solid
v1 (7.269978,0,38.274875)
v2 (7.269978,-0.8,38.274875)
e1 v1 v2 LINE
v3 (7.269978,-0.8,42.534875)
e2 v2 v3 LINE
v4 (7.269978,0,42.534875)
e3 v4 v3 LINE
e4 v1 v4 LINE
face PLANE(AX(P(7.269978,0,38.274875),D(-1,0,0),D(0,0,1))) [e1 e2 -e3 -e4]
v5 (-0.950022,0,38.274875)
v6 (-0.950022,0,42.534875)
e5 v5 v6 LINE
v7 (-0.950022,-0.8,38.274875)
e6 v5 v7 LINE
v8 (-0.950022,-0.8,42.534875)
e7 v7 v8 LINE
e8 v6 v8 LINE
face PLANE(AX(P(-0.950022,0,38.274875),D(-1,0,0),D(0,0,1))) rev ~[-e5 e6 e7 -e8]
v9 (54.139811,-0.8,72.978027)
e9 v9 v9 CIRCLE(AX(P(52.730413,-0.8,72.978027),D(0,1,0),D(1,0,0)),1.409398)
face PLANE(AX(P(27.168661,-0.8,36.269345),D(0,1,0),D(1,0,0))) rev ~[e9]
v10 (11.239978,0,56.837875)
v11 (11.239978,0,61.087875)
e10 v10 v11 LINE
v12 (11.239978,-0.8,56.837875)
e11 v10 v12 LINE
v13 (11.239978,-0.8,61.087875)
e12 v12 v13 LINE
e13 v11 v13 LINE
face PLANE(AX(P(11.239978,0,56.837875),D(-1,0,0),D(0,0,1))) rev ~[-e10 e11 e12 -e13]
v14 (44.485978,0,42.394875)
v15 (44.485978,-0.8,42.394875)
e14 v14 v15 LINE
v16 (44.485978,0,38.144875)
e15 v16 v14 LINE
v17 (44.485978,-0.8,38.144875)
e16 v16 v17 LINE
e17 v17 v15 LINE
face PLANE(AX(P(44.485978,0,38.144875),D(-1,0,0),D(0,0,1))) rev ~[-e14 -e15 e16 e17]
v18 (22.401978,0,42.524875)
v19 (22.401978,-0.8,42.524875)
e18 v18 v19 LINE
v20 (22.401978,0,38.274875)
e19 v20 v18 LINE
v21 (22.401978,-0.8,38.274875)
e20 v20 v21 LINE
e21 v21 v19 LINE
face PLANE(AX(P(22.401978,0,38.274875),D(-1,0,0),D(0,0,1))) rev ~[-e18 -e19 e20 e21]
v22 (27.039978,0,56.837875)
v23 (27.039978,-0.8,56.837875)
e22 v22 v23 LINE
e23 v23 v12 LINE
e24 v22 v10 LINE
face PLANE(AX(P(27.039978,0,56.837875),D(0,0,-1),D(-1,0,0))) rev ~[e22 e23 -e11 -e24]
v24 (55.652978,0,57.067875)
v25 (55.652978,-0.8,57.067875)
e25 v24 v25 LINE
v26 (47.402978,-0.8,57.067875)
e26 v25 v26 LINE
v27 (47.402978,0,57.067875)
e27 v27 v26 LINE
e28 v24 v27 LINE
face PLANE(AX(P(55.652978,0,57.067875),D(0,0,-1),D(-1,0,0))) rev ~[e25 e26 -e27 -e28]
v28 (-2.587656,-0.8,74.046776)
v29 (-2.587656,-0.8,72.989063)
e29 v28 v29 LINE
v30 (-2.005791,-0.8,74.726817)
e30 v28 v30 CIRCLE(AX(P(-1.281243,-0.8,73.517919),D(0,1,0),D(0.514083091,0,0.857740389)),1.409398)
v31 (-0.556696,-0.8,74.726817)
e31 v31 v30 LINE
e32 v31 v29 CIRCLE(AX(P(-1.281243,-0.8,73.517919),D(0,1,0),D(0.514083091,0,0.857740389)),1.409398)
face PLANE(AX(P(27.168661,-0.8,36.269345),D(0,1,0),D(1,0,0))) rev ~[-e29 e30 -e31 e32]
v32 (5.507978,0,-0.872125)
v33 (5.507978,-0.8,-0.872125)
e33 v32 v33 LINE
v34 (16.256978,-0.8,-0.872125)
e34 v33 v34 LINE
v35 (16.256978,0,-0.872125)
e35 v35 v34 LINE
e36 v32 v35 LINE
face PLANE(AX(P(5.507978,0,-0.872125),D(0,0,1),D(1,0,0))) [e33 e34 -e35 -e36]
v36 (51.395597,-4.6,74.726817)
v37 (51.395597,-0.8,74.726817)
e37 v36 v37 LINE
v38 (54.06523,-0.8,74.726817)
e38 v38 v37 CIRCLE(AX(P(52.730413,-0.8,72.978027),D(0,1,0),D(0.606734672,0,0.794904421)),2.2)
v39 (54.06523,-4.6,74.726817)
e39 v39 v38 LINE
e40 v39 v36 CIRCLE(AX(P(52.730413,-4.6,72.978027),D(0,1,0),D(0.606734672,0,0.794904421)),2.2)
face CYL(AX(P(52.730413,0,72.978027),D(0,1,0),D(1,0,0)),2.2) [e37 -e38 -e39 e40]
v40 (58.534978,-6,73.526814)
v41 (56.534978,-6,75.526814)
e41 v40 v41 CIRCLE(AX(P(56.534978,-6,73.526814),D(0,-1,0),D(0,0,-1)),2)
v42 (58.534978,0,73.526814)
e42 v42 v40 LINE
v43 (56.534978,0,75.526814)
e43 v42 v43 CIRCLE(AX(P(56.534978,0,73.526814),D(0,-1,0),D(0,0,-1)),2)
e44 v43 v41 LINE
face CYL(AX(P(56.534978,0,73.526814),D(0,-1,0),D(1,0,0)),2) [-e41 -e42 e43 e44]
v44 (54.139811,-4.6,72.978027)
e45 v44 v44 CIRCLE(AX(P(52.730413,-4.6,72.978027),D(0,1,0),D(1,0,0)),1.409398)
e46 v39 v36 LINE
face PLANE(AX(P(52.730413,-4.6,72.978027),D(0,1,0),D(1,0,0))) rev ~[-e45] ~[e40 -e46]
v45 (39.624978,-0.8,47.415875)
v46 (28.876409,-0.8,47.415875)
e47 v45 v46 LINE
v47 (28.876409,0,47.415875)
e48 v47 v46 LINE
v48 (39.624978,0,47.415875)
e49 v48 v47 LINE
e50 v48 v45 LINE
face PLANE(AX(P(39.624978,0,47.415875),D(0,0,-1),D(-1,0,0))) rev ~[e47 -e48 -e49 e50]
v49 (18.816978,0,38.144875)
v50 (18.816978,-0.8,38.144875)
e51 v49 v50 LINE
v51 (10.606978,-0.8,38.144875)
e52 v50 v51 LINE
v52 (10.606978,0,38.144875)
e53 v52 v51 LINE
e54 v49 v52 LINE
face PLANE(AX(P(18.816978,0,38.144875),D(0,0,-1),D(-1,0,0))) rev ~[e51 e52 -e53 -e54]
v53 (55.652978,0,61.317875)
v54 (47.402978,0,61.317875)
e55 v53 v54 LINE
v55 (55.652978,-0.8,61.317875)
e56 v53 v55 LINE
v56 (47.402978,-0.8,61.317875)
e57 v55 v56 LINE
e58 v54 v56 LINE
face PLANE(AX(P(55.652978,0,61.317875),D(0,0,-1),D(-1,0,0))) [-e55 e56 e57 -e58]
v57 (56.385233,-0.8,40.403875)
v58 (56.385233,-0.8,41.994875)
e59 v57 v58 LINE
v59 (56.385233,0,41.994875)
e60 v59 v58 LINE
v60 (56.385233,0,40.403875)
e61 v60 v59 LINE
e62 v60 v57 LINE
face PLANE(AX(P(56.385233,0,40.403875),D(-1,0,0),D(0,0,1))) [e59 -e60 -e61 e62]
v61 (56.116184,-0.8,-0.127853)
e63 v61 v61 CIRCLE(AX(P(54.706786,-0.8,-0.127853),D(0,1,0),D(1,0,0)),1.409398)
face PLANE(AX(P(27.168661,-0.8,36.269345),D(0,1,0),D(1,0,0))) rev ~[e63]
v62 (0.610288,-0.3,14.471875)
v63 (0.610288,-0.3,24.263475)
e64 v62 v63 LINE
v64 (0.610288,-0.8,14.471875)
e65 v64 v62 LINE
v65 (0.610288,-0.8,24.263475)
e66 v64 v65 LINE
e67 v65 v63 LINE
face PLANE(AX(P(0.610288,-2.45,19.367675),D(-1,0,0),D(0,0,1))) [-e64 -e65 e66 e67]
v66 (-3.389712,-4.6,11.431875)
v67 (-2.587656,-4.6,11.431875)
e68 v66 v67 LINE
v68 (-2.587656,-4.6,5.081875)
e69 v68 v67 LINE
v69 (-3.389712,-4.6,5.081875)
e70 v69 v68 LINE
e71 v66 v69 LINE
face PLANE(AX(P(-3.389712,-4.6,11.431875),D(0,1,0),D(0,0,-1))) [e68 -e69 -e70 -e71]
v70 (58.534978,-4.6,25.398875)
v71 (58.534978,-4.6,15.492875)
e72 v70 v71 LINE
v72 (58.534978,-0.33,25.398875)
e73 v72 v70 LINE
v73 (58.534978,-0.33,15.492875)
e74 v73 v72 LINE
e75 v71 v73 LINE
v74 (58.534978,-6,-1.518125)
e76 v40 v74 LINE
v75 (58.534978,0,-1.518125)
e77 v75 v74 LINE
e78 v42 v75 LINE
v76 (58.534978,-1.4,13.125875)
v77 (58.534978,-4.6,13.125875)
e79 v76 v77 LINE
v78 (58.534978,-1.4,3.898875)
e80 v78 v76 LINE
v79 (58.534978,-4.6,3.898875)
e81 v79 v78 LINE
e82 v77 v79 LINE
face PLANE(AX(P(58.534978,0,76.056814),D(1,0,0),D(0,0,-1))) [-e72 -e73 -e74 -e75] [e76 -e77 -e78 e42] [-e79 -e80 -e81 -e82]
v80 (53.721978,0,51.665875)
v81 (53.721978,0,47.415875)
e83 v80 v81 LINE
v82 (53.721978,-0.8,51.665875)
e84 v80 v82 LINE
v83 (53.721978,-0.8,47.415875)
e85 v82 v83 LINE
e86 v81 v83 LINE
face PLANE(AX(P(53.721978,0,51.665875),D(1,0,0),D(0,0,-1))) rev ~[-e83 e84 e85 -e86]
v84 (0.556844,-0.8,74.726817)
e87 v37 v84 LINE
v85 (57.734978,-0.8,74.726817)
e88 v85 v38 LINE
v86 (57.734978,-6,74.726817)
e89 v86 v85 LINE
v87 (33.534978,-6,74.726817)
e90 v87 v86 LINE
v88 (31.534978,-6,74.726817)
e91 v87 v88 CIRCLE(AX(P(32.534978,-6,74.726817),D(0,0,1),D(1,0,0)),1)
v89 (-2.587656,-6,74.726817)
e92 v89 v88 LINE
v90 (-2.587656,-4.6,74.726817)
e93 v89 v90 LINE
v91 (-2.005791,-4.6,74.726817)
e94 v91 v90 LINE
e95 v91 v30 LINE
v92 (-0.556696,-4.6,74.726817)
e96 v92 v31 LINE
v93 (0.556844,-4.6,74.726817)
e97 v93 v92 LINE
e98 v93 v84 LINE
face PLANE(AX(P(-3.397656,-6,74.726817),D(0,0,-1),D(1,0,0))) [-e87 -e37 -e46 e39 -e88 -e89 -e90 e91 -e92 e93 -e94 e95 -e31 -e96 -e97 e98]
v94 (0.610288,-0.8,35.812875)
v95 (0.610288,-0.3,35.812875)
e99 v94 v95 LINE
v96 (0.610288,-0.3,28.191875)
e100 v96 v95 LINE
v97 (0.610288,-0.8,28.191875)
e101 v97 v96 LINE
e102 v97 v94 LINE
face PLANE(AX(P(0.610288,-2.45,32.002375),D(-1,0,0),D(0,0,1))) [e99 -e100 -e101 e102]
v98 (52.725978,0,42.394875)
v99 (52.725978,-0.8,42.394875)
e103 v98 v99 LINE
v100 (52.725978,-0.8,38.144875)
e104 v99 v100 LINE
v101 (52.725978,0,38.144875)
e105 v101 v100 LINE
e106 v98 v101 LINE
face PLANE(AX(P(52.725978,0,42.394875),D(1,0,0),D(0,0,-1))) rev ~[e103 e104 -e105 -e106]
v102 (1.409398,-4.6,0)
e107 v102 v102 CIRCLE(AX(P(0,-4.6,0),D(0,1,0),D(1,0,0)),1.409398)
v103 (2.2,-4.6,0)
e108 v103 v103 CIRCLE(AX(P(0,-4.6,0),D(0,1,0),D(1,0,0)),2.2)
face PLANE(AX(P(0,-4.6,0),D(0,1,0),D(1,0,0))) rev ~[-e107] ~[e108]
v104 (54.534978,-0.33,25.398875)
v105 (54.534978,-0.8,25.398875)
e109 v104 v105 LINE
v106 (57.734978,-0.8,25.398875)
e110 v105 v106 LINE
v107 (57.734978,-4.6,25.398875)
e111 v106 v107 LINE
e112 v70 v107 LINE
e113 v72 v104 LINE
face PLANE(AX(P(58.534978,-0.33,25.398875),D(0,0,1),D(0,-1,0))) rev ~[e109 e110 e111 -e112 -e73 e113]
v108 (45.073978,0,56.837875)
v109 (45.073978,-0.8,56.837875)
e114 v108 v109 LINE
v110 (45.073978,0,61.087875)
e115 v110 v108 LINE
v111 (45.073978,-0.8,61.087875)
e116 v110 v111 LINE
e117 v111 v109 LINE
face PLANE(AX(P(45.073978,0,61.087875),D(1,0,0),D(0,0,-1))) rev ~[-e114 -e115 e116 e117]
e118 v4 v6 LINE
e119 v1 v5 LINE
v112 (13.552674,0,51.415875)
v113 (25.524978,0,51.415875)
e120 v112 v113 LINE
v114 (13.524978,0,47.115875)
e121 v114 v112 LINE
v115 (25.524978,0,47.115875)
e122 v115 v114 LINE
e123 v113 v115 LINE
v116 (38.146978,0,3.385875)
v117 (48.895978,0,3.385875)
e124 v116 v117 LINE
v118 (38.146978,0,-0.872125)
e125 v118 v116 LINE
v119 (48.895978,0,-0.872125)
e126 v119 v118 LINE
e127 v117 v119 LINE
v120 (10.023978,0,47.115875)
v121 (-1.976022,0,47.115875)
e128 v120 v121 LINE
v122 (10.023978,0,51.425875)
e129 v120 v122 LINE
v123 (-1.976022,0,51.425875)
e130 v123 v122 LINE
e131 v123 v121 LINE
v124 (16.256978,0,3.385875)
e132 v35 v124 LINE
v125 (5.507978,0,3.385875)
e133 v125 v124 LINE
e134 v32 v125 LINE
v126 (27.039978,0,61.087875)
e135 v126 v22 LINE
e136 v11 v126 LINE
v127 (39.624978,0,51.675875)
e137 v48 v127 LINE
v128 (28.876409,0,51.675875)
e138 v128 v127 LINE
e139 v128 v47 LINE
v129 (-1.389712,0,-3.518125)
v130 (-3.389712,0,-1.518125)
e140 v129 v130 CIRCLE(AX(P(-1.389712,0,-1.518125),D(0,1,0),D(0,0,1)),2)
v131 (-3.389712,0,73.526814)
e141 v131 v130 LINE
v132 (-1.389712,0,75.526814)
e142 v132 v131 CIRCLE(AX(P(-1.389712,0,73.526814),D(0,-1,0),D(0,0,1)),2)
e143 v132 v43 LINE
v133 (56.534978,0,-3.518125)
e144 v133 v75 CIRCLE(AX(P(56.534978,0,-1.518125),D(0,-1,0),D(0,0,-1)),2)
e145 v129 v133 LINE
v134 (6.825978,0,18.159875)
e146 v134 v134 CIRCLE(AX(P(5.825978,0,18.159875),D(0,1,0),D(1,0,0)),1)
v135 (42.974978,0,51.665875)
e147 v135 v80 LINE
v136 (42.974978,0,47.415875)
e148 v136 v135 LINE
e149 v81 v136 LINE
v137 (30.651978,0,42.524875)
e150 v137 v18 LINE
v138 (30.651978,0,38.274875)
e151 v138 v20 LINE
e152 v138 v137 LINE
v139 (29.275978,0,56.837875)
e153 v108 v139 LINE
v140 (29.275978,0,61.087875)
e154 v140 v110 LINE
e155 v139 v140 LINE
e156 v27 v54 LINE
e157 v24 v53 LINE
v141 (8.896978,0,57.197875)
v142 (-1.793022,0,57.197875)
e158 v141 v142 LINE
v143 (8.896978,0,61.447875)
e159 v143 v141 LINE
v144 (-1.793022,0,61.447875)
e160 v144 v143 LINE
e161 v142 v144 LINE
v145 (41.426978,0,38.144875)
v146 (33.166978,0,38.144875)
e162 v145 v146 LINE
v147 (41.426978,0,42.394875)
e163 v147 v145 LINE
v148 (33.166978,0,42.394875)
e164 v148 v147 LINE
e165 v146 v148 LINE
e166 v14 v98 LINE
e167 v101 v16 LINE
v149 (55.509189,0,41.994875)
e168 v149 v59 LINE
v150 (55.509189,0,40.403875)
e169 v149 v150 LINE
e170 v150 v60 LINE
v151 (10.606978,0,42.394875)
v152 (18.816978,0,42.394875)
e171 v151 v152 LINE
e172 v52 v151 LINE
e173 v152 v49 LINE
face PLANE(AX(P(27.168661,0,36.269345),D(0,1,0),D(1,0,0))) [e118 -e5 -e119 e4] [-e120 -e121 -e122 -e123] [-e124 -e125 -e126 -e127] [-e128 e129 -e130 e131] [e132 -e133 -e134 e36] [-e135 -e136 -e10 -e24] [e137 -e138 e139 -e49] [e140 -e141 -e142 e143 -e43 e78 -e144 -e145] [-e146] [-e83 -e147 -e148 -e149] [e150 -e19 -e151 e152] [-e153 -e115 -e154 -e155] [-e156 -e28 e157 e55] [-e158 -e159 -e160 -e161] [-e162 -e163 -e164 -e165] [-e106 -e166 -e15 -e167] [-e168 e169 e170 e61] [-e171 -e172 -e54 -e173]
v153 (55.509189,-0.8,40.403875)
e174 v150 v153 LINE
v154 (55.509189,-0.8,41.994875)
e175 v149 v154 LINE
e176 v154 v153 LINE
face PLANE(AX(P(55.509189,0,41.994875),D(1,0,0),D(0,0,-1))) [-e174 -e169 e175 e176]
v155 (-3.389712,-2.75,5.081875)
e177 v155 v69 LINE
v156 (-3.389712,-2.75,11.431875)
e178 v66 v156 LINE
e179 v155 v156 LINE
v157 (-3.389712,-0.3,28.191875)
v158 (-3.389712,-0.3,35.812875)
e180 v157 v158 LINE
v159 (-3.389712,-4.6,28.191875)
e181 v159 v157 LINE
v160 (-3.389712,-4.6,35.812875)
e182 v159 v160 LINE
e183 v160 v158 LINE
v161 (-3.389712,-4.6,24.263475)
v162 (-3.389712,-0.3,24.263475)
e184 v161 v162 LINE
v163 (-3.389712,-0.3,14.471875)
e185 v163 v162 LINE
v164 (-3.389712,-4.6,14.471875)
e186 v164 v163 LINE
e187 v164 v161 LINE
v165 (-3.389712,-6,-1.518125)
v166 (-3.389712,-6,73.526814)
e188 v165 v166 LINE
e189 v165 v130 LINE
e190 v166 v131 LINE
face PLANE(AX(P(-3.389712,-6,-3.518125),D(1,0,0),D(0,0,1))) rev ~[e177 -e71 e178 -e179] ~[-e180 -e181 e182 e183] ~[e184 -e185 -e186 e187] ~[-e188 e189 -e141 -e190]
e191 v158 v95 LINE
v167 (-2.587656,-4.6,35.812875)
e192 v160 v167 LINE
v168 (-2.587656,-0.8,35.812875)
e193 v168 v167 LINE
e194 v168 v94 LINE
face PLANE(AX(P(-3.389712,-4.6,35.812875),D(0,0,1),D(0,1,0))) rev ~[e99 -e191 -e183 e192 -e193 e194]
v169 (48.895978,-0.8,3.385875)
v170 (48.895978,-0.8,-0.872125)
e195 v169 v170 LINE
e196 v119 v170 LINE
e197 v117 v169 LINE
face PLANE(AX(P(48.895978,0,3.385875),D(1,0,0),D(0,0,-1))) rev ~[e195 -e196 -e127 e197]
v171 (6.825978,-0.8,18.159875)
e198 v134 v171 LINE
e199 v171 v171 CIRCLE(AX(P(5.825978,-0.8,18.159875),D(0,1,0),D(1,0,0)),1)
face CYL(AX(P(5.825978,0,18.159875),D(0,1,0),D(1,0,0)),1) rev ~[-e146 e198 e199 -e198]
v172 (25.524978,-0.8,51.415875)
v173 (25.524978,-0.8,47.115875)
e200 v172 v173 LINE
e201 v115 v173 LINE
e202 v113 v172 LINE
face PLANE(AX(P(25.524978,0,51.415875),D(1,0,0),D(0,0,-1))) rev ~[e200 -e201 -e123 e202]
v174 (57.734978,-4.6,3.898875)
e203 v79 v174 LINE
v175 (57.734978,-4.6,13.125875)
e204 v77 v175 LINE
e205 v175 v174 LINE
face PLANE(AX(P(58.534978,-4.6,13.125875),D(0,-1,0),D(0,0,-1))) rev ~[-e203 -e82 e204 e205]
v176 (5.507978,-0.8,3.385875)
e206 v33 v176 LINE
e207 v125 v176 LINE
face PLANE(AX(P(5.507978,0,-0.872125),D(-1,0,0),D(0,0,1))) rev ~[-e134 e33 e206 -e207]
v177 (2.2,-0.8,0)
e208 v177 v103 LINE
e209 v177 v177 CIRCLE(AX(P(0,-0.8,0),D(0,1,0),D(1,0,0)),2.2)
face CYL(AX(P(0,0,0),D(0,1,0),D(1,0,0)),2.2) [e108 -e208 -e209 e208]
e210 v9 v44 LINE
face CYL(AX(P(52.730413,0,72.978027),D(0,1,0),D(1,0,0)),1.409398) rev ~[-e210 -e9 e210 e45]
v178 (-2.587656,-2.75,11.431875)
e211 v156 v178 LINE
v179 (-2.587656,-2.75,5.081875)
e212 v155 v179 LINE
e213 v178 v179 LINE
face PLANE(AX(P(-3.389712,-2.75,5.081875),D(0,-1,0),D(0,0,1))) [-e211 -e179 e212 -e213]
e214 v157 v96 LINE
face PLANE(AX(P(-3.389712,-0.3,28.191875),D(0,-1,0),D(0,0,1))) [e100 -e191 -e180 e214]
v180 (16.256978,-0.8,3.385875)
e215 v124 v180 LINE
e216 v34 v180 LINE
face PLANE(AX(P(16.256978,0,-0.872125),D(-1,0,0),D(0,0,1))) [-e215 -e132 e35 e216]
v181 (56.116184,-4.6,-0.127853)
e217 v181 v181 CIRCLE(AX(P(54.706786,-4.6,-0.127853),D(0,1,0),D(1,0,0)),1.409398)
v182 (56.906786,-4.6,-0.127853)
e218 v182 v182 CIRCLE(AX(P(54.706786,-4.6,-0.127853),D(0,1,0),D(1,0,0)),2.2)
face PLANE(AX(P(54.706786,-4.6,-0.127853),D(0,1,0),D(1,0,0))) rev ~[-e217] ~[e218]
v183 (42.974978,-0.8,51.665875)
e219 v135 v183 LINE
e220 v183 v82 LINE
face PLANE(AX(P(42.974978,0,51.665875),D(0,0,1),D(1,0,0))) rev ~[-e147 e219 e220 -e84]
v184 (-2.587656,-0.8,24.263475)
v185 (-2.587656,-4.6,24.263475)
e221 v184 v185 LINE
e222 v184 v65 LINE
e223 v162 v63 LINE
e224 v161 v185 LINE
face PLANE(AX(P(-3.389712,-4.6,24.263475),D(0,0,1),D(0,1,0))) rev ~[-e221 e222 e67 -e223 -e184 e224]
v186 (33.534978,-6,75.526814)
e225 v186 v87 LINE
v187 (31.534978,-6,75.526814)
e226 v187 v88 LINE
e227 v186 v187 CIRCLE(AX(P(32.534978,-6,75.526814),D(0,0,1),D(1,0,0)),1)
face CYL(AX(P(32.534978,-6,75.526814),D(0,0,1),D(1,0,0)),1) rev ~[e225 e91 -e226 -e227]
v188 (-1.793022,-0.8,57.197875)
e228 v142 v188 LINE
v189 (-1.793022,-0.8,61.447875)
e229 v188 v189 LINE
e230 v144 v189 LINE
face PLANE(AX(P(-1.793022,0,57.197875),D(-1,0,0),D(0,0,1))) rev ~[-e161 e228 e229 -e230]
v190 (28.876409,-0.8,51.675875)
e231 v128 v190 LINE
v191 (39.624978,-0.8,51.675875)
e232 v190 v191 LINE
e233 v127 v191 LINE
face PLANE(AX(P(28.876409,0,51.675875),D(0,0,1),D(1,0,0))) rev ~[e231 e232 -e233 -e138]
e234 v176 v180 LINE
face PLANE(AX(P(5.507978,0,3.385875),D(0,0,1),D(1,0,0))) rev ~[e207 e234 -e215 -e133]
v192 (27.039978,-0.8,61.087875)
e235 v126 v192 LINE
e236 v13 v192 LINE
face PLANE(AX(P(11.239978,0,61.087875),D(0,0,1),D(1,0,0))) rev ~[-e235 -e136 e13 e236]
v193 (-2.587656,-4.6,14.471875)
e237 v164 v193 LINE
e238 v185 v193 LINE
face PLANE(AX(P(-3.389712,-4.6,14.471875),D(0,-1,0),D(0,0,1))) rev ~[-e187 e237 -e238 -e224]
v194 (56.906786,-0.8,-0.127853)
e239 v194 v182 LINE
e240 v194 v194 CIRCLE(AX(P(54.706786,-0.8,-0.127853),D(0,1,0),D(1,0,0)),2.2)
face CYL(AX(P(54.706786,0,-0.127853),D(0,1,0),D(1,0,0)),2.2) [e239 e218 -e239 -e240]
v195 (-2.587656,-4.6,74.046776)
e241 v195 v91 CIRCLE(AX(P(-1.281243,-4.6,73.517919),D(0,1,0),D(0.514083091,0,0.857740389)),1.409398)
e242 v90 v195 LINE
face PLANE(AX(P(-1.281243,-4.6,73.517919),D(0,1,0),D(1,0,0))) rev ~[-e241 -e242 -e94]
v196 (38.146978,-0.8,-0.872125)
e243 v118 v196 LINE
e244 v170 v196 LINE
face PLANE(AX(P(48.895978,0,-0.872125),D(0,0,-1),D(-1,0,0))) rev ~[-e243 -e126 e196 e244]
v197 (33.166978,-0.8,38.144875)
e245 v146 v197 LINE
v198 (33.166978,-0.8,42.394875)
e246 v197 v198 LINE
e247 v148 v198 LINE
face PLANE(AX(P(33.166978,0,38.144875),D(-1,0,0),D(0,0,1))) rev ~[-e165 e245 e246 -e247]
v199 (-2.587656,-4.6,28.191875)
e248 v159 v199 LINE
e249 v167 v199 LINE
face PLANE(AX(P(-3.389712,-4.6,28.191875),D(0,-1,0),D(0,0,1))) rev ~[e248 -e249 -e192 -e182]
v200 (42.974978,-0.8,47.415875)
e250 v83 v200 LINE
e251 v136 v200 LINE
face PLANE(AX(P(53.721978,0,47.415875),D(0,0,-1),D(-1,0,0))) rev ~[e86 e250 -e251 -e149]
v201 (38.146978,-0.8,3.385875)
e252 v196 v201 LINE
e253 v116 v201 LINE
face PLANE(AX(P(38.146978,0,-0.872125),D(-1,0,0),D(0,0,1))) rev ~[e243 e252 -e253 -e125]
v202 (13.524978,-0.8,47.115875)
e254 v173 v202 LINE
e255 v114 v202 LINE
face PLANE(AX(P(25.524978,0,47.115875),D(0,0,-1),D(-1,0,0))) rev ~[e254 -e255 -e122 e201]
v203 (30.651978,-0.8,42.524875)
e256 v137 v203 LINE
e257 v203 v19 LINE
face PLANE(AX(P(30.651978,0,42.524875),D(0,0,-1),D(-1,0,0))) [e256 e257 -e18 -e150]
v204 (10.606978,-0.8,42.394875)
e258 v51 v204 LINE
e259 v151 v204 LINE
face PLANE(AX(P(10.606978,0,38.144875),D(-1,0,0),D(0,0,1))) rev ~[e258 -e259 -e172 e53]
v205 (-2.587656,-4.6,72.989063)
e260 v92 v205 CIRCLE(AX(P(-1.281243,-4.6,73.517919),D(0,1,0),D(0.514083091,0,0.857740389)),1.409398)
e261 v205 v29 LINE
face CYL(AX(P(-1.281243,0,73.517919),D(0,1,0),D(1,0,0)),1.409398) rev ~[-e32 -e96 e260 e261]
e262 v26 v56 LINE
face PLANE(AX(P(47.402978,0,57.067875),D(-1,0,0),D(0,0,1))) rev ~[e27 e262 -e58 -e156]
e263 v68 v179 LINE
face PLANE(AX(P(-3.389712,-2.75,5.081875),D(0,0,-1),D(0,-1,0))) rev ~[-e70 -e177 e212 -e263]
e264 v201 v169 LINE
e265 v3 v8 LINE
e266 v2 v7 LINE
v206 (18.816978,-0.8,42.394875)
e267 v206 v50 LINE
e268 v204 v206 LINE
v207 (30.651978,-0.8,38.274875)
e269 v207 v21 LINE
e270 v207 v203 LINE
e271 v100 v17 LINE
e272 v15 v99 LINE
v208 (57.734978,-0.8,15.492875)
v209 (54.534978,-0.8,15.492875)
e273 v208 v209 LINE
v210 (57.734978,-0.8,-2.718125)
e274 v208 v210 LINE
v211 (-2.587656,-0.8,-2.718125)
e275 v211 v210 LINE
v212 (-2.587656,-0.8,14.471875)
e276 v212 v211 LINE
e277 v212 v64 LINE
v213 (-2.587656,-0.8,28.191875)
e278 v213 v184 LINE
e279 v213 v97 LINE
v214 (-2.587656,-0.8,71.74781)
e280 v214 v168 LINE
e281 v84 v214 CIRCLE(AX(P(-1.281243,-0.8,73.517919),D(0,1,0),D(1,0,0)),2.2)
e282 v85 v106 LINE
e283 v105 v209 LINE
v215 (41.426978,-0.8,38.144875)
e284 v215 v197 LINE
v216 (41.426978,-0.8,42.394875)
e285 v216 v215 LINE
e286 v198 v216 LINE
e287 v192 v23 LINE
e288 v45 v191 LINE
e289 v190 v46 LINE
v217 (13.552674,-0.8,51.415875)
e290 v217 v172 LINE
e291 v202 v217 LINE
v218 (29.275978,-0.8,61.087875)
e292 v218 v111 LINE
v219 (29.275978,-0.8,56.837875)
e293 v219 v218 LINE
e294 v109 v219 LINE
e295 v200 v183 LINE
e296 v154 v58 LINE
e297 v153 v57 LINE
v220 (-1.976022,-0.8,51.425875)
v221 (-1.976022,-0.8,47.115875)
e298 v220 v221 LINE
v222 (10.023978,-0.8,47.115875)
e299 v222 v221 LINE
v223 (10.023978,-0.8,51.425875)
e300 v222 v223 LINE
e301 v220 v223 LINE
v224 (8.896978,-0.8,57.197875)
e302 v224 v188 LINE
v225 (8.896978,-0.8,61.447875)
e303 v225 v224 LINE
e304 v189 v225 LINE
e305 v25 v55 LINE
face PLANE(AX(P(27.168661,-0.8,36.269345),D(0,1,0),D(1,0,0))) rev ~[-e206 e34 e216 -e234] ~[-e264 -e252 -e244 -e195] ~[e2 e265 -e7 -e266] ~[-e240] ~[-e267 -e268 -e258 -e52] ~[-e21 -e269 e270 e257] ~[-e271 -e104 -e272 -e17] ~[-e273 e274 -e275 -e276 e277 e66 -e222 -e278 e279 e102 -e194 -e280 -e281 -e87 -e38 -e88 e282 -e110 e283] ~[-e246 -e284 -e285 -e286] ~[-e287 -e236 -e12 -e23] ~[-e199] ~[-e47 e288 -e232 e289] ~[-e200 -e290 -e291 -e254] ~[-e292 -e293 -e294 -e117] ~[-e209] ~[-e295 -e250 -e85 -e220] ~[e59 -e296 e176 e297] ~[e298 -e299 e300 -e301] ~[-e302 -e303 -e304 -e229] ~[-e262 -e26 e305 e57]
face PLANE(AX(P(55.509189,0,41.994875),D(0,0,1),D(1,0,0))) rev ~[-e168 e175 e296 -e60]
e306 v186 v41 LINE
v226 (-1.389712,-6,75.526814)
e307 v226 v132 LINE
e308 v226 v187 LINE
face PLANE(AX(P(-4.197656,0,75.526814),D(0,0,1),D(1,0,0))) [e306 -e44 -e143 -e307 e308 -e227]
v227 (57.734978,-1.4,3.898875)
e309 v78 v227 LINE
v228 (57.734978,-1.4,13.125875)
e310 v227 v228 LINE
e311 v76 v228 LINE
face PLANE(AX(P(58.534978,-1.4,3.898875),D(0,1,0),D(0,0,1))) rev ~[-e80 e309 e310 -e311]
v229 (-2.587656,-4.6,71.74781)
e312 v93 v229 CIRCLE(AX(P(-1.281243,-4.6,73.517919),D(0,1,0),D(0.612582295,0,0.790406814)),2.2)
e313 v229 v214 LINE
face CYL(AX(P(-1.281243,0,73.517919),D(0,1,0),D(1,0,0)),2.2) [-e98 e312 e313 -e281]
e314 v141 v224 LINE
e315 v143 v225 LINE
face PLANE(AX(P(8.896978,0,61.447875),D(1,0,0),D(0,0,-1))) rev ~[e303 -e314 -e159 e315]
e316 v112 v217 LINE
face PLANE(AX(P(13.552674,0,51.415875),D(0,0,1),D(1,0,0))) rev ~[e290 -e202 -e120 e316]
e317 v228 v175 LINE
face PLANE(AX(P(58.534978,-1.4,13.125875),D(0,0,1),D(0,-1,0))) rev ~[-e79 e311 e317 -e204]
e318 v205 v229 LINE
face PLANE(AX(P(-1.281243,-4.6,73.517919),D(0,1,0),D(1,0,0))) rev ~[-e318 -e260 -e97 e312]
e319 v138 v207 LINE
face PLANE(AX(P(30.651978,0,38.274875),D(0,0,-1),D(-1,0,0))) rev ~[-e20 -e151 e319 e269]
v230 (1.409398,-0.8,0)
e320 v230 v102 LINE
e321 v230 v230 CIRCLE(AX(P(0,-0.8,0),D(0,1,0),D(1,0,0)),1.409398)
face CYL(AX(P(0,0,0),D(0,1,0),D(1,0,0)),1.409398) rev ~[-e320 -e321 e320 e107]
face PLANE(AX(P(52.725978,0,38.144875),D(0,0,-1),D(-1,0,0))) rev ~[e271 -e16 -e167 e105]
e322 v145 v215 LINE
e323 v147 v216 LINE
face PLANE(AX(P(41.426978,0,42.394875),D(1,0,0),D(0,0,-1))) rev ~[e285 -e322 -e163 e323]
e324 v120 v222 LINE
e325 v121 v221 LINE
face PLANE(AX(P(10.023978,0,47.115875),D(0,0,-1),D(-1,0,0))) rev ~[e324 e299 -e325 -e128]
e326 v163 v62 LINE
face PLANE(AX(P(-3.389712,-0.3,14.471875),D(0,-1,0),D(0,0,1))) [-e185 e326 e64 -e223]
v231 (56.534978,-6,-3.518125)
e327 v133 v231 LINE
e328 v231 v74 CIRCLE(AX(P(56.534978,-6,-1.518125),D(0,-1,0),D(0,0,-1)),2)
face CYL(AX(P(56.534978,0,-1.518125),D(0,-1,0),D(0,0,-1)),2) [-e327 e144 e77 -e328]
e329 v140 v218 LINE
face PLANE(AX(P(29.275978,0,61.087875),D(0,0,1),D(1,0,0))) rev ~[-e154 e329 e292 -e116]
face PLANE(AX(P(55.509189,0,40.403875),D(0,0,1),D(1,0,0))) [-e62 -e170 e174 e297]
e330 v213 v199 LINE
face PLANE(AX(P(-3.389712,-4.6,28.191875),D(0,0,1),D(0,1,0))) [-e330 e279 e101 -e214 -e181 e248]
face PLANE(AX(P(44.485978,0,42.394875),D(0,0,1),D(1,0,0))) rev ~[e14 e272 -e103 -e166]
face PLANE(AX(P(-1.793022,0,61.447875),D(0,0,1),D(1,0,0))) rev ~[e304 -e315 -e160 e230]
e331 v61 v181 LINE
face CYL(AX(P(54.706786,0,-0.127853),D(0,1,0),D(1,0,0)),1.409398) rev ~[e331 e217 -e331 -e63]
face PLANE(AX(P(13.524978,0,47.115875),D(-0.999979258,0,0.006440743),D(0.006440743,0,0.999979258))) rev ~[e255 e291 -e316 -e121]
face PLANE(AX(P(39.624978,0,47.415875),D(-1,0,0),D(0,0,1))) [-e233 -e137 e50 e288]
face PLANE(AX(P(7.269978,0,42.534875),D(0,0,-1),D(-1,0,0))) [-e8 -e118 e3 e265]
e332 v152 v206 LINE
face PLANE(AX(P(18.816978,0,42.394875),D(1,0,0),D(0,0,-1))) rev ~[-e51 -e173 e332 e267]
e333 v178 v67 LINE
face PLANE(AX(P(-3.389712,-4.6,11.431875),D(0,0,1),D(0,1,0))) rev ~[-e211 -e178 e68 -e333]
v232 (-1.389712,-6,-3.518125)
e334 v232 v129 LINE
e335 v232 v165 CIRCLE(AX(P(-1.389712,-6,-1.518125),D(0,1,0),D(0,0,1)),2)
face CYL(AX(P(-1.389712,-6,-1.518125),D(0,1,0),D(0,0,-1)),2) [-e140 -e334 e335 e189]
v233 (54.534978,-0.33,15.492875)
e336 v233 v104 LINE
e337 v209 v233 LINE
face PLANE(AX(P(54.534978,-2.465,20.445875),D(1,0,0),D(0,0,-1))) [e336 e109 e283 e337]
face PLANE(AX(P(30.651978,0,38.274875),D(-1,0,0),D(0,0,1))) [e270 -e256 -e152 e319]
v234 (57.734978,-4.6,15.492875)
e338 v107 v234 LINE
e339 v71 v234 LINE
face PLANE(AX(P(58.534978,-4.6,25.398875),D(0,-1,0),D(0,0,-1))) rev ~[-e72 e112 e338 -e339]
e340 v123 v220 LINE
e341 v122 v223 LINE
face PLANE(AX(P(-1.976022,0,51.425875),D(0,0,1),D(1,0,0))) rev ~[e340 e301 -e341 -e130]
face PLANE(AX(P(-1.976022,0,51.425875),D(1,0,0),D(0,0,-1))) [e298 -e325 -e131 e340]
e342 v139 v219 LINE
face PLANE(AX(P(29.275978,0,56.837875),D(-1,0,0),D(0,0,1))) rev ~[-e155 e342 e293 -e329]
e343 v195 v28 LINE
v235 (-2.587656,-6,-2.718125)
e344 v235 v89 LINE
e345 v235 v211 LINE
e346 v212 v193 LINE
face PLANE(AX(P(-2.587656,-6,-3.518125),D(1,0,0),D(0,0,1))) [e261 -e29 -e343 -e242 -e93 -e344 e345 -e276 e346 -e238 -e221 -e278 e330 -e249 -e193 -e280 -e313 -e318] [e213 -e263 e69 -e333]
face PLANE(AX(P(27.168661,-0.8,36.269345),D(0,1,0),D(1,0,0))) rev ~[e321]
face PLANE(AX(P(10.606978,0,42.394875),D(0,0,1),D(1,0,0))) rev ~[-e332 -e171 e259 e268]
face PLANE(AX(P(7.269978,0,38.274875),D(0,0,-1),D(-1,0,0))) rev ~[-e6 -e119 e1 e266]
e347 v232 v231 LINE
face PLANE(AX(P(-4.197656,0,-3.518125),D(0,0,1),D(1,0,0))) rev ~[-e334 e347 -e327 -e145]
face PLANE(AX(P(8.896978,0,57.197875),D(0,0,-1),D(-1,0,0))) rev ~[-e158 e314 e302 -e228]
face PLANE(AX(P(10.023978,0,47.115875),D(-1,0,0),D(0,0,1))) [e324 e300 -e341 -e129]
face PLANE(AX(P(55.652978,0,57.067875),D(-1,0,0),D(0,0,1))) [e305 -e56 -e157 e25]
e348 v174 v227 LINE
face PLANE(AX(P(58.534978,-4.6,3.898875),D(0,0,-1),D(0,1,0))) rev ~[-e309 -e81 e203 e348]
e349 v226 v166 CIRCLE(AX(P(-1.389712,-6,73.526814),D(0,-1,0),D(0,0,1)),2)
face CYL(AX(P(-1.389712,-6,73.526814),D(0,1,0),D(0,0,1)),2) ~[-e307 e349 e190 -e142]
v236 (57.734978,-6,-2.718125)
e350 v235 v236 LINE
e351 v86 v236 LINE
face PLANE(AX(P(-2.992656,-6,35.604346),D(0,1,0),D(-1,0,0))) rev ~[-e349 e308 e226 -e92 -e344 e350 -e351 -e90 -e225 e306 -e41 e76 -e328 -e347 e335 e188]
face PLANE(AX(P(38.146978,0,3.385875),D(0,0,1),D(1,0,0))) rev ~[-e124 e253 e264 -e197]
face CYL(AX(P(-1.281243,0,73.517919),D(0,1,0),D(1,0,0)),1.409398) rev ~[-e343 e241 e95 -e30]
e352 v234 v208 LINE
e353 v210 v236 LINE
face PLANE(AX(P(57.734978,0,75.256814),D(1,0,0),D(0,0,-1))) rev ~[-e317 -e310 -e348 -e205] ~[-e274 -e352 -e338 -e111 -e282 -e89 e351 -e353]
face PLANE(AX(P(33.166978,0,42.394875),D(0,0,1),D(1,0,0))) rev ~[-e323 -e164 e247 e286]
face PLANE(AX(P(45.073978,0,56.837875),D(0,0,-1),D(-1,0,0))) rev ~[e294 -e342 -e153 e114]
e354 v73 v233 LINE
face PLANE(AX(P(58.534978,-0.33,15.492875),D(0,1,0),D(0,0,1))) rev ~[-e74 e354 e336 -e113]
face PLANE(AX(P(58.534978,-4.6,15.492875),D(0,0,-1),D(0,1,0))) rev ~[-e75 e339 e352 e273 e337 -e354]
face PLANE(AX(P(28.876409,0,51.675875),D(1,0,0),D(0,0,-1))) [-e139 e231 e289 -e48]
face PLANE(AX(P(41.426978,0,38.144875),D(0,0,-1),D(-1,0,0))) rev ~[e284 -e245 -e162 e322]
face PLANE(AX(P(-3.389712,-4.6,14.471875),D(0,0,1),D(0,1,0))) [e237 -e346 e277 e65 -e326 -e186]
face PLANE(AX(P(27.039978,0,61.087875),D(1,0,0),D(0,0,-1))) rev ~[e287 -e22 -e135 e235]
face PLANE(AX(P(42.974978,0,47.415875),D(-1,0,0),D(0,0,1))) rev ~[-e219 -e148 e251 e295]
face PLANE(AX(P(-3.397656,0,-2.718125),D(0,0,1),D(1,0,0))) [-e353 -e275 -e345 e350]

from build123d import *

# Parameters (mm, degrees)
SKETCH3_W            = 62.732633811
SKETCH3_H            = 79.574938689
SKETCH3_W_2          = 61.132633811
SKETCH3_H_2          = 77.974938689
BOSS_EXTRUDE8_DEPTH  = 6
SKETCH2_R            = 2.2
SKETCH2_R_2          = 1.409397898
BOSS_EXTRUDE9_DEPTH  = 4.6
SKETCH4_W            = 61.132633811
SKETCH4_H            = 77.974938689
BOSS_EXTRUDE11_DEPTH = 0.8
CUT_EXTRUDE2_DEPTH   = 4
SKETCH8_W            = 6.35
SKETCH8_H            = 1.7
SKETCH8_W_2          = 9.791634441
SKETCH8_H_2          = 4.4
SKETCH8_W_3          = 7.621
CUT_EXTRUDE3_DEPTH   = 1
SKETCH10_R           = 1
CUT_EXTRUDE4_DEPTH   = 10
SKETCH11_W           = 62.732633811
SKETCH11_H           = 0.53
CUT_EXTRUDE5_DEPTH   = 10
SKETCH12_W           = 61.132633811
SKETCH12_H           = 0.529997491
BOSS_EXTRUDE12_DEPTH = 6
BOSS_EXTRUDE14_DEPTH = 6
SKETCH16_W           = 0.807943928
SKETCH16_H           = 79.044938689
CUT_EXTRUDE6_DEPTH   = 10
CUT_EXTRUDE7_DEPTH   = 10
SKETCH20_W           = 9.7916
SKETCH20_H           = 4.3
SKETCH20_W_2         = 7.621
CUT_EXTRUDE9_DEPTH   = 4
FILLET1_R            = 2


with BuildPart() as part:
    # Sketch3 → Boss-Extrude8 (new body)
    with BuildSketch(Plane(origin=(0, 0, 0), x_dir=(1, 0, 0), z_dir=(0, 1, 0))):
        with Locations((27.16866126, -36.269344827)):
            Rectangle(SKETCH3_W, SKETCH3_H)
        with Locations((27.16866126, -36.269344827)):
            Rectangle(SKETCH3_W_2, SKETCH3_H_2, mode=Mode.SUBTRACT)
    extrude(amount=-BOSS_EXTRUDE8_DEPTH)

    # Sketch2 → Boss-Extrude9 (add)
    with BuildSketch(Plane(origin=(0, 0, 0), x_dir=(1, 0, 0), z_dir=(0, 1, 0))):
        Circle(SKETCH2_R)
        Circle(SKETCH2_R_2, mode=Mode.SUBTRACT)
        with Locations((54.706786111, 0.127852524)):
            Circle(SKETCH2_R)
        with Locations((54.706786111, 0.127852524)):
            Circle(SKETCH2_R_2, mode=Mode.SUBTRACT)
        with Locations((52.730413392, -72.978026956)):
            Circle(SKETCH2_R)
        with Locations((52.730413392, -72.978026956)):
            Circle(SKETCH2_R_2, mode=Mode.SUBTRACT)
        with Locations((-1.28124336, -73.51791918)):
            Circle(SKETCH2_R)
        with Locations((-1.28124336, -73.51791918)):
            Circle(SKETCH2_R_2, mode=Mode.SUBTRACT)
    extrude(amount=-BOSS_EXTRUDE9_DEPTH)

    # Sketch4 → Boss-Extrude11 (add)
    with BuildSketch(Plane(origin=(0, 0, 0), x_dir=(1, 0, 0), z_dir=(0, 1, 0))):
        with Locations((27.16866126, -36.269344827)):
            Rectangle(SKETCH4_W, SKETCH4_H)
    extrude(amount=-BOSS_EXTRUDE11_DEPTH)

    # Sketch7 → Cut-Extrude2 (cut)
    with BuildSketch(Plane(origin=(58.534978165, 0, 0), x_dir=(0, 0, -1), z_dir=(1, 0, 0))):
        Polygon((-3.898875483, -4.6), (-3.898875483, -2.1), (-3.898875483, -1.5), (-3.898875483, -1.4), (-13.125875483, -1.4), (-13.125875483, -1.5), (-13.125875483, -2.1), (-13.125875483, -4.6), align=None)
        Polygon((-15.492875483, -4.6), (-15.492875483, -0.6), (-15.492875483, -0.33), (-25.398875483, -0.33), (-25.398875483, -0.6), (-25.398875483, -4.6), align=None)
    extrude(amount=-CUT_EXTRUDE2_DEPTH, mode=Mode.SUBTRACT)

    # Sketch8 → Cut-Extrude3 (cut)
    with BuildSketch(Plane.ZY.offset(4.197655646)):
        with Locations((8.256875483, -3.75)):
            Rectangle(SKETCH8_W, SKETCH8_H)
        with Locations((19.363058263, -2.4)):
            Rectangle(SKETCH8_W_2, SKETCH8_H_2)
        with Locations((32.006375483, -2.4)):
            Rectangle(SKETCH8_W_3, SKETCH8_H_2)
    extrude(amount=-CUT_EXTRUDE3_DEPTH, mode=Mode.SUBTRACT)

    # Sketch10 → Cut-Extrude4 (cut)
    with BuildSketch(Plane(origin=(0, 0, 0), x_dir=(1, 0, 0), z_dir=(0, 1, 0))):
        with Locations((5.825978165, -18.159875483)):
            Circle(SKETCH10_R)
        Polygon((44.485978165, -38.144875483), (44.485978165, -41.994875483), (44.485978165, -42.394875483), (52.725978165, -42.394875483), (52.725978165, -38.144875483), (52.365978165, -38.144875483), align=None)
        Polygon((33.166978165, -38.144875483), (33.166978165, -41.994875483), (33.166978165, -42.394875483), (41.426978165, -42.394875483), (41.426978165, -38.144875483), (41.046978165, -38.144875483), align=None)
        Polygon((22.401978165, -41.994875483), (22.401978165, -38.274875483), (30.291978165, -38.274875483), (30.651978165, -38.274875483), (30.651978165, -42.524875483), (22.401978165, -42.524875483), align=None)
        Polygon((10.606978165, -38.144875483), (10.606978165, -41.994875483), (10.606978165, -42.394875483), (18.816978165, -42.394875483), (18.816978165, -38.144875483), (18.456978165, -38.144875483), align=None)
        Polygon((-0.950021835, -41.994875483), (-0.950021835, -38.274875483), (6.899978165, -38.274875483), (7.269978165, -38.274875483), (7.269978165, -42.534875483), (-0.950021835, -42.534875483), align=None)
        Polygon((25.154978165, -47.115875483), (13.774978165, -47.115875483), (13.524978165, -47.115875483), (13.552673933, -51.415875483), (13.774978165, -51.415875483), (25.524978165, -51.415875483), (25.524978165, -47.115875483), align=None)
        Polygon((-1.756021835, -47.115875483), (9.663978165, -47.115875483), (10.023978165, -47.115875483), (10.023978165, -51.425875483), (-1.756021835, -51.425875483), (-1.976021835, -51.425875483), (-1.976021835, -47.115875483), align=None)
        Polygon((47.402978165, -57.067875483), (55.012978165, -57.067875483), (55.652978165, -57.067875483), (55.652978165, -61.317875483), (47.402978165, -61.317875483), (47.402978165, -60.917875483), align=None)
        Polygon((38.146978165, 0.382124517), (38.146978165, -3.385875483), (48.535978165, -3.385875483), (48.895978165, -3.385875483), (48.895978165, 0.872124517), (38.146978165, 0.872124517), align=None)
        Polygon((15.896978165, -3.385875483), (5.507978165, -3.385875483), (5.507978165, 0.382124517), (5.507978165, 0.872124517), (16.256978165, 0.872124517), (16.256978165, -3.385875483), align=None)
        Polygon((53.361978165, -47.415875483), (43.784978165, -47.415875483), (42.974978165, -47.415875483), (42.974978165, -51.665875483), (43.784978165, -51.665875483), (53.721978165, -51.665875483), (53.721978165, -47.415875483), align=None)
        Polygon((29.687978165, -47.415875483), (39.264978165, -47.415875483), (39.624978165, -47.415875483), (39.624978165, -51.675875483), (29.687978165, -51.675875483), (28.876408648, -51.675875483), (28.876408648, -47.415875483), align=None)
        Polygon((-1.793021835, -57.197875483), (-1.793021835, -60.917875483), (-1.793021835, -61.447875483), (8.896978165, -61.447875483), (8.896978165, -57.197875483), (8.706978165, -57.197875483), align=None)
        Polygon((29.275978165, -56.837875483), (29.275978165, -60.917875483), (29.275978165, -61.087875483), (45.073978165, -61.087875483), (45.073978165, -56.837875483), (44.753978165, -56.837875483), align=None)
        Polygon((11.239978165, -56.837875483), (11.239978165, -60.917875483), (11.239978165, -61.087875483), (27.039978165, -61.087875483), (27.039978165, -56.837875483), (26.719978165, -56.837875483), align=None)
        Polygon((56.285232814, -41.994875483), (55.509188938, -41.994875483), (55.509188938, -40.403875483), (56.385232814, -40.403875483), (56.385232814, -41.994875483), align=None)
    extrude(amount=-CUT_EXTRUDE4_DEPTH, mode=Mode.SUBTRACT)

    # Sketch11 → Cut-Extrude5 (cut)
    with BuildSketch(Plane(origin=(0, 0, 0), x_dir=(1, 0, 0), z_dir=(0, 1, 0))):
        with Locations((27.16866126, -75.791814172)):
            Rectangle(SKETCH11_W, SKETCH11_H)
    extrude(amount=-CUT_EXTRUDE5_DEPTH, mode=Mode.SUBTRACT)

    # Sketch12 → Boss-Extrude12 (add)
    with BuildSketch(Plane.XZ.offset(6)):
        with Locations((27.16866126, 74.991815427)):
            Rectangle(SKETCH12_W, SKETCH12_H)
    extrude(amount=-BOSS_EXTRUDE12_DEPTH)

    # Sketch15 → Boss-Extrude14 (add)
    with BuildSketch(Plane.XZ.offset(6)):
        Polygon((-3.397655646, 74.726816681), (-2.587655646, 74.726816681), (-2.587655646, -2.718124517), (-2.587655646, -3.518124517), (-3.397655646, -3.518124517), align=None)
    extrude(amount=-BOSS_EXTRUDE14_DEPTH)

    # Sketch16 → Cut-Extrude6 (cut)
    with BuildSketch(Plane.XZ.offset(6)):
        with Locations((-3.793683682, 36.004344827)):
            Rectangle(SKETCH16_W, SKETCH16_H)
    extrude(amount=-CUT_EXTRUDE6_DEPTH, mode=Mode.SUBTRACT)

    # Sketch17 → Cut-Extrude7 (cut)
    with BuildSketch(Plane.XY.offset(75.526814172)):
        with BuildLine():
            Line((31.534978165, -6), (33.534978165, -6))
            ThreePointArc((33.534978165, -6), (32.534978165, -5), (31.534978165, -6))
        make_face()
    extrude(amount=-CUT_EXTRUDE7_DEPTH, mode=Mode.SUBTRACT)

    # Sketch20 → Cut-Extrude9 (cut)
    with BuildSketch(Plane.ZY.offset(3.389711718)):
        Polygon((5.081875483, -4.6), (5.081875483, -2.9), (5.081875483, -2.75), (11.431875483, -2.75), (11.431875483, -2.9), (11.431875483, -4.6), align=None)
        with Locations((19.367675483, -2.45)):
            Rectangle(SKETCH20_W, SKETCH20_H)
        with Locations((32.002375483, -2.45)):
            Rectangle(SKETCH20_W_2, SKETCH20_H)
    extrude(amount=-CUT_EXTRUDE9_DEPTH, mode=Mode.SUBTRACT)

    # Fillet1
    fillet1_edges = [part.edges().sort_by_distance(p)[0] for p in [
        (58.534978165, -3, 75.526814172),
        (-3.389711718, -3, 75.526814172),
        (-3.389711718, -3, -3.518124517),
        (58.534978165, -3, -3.518124517),
    ]]
    fillet(fillet1_edges, radius=FILLET1_R)


solid = part.part
